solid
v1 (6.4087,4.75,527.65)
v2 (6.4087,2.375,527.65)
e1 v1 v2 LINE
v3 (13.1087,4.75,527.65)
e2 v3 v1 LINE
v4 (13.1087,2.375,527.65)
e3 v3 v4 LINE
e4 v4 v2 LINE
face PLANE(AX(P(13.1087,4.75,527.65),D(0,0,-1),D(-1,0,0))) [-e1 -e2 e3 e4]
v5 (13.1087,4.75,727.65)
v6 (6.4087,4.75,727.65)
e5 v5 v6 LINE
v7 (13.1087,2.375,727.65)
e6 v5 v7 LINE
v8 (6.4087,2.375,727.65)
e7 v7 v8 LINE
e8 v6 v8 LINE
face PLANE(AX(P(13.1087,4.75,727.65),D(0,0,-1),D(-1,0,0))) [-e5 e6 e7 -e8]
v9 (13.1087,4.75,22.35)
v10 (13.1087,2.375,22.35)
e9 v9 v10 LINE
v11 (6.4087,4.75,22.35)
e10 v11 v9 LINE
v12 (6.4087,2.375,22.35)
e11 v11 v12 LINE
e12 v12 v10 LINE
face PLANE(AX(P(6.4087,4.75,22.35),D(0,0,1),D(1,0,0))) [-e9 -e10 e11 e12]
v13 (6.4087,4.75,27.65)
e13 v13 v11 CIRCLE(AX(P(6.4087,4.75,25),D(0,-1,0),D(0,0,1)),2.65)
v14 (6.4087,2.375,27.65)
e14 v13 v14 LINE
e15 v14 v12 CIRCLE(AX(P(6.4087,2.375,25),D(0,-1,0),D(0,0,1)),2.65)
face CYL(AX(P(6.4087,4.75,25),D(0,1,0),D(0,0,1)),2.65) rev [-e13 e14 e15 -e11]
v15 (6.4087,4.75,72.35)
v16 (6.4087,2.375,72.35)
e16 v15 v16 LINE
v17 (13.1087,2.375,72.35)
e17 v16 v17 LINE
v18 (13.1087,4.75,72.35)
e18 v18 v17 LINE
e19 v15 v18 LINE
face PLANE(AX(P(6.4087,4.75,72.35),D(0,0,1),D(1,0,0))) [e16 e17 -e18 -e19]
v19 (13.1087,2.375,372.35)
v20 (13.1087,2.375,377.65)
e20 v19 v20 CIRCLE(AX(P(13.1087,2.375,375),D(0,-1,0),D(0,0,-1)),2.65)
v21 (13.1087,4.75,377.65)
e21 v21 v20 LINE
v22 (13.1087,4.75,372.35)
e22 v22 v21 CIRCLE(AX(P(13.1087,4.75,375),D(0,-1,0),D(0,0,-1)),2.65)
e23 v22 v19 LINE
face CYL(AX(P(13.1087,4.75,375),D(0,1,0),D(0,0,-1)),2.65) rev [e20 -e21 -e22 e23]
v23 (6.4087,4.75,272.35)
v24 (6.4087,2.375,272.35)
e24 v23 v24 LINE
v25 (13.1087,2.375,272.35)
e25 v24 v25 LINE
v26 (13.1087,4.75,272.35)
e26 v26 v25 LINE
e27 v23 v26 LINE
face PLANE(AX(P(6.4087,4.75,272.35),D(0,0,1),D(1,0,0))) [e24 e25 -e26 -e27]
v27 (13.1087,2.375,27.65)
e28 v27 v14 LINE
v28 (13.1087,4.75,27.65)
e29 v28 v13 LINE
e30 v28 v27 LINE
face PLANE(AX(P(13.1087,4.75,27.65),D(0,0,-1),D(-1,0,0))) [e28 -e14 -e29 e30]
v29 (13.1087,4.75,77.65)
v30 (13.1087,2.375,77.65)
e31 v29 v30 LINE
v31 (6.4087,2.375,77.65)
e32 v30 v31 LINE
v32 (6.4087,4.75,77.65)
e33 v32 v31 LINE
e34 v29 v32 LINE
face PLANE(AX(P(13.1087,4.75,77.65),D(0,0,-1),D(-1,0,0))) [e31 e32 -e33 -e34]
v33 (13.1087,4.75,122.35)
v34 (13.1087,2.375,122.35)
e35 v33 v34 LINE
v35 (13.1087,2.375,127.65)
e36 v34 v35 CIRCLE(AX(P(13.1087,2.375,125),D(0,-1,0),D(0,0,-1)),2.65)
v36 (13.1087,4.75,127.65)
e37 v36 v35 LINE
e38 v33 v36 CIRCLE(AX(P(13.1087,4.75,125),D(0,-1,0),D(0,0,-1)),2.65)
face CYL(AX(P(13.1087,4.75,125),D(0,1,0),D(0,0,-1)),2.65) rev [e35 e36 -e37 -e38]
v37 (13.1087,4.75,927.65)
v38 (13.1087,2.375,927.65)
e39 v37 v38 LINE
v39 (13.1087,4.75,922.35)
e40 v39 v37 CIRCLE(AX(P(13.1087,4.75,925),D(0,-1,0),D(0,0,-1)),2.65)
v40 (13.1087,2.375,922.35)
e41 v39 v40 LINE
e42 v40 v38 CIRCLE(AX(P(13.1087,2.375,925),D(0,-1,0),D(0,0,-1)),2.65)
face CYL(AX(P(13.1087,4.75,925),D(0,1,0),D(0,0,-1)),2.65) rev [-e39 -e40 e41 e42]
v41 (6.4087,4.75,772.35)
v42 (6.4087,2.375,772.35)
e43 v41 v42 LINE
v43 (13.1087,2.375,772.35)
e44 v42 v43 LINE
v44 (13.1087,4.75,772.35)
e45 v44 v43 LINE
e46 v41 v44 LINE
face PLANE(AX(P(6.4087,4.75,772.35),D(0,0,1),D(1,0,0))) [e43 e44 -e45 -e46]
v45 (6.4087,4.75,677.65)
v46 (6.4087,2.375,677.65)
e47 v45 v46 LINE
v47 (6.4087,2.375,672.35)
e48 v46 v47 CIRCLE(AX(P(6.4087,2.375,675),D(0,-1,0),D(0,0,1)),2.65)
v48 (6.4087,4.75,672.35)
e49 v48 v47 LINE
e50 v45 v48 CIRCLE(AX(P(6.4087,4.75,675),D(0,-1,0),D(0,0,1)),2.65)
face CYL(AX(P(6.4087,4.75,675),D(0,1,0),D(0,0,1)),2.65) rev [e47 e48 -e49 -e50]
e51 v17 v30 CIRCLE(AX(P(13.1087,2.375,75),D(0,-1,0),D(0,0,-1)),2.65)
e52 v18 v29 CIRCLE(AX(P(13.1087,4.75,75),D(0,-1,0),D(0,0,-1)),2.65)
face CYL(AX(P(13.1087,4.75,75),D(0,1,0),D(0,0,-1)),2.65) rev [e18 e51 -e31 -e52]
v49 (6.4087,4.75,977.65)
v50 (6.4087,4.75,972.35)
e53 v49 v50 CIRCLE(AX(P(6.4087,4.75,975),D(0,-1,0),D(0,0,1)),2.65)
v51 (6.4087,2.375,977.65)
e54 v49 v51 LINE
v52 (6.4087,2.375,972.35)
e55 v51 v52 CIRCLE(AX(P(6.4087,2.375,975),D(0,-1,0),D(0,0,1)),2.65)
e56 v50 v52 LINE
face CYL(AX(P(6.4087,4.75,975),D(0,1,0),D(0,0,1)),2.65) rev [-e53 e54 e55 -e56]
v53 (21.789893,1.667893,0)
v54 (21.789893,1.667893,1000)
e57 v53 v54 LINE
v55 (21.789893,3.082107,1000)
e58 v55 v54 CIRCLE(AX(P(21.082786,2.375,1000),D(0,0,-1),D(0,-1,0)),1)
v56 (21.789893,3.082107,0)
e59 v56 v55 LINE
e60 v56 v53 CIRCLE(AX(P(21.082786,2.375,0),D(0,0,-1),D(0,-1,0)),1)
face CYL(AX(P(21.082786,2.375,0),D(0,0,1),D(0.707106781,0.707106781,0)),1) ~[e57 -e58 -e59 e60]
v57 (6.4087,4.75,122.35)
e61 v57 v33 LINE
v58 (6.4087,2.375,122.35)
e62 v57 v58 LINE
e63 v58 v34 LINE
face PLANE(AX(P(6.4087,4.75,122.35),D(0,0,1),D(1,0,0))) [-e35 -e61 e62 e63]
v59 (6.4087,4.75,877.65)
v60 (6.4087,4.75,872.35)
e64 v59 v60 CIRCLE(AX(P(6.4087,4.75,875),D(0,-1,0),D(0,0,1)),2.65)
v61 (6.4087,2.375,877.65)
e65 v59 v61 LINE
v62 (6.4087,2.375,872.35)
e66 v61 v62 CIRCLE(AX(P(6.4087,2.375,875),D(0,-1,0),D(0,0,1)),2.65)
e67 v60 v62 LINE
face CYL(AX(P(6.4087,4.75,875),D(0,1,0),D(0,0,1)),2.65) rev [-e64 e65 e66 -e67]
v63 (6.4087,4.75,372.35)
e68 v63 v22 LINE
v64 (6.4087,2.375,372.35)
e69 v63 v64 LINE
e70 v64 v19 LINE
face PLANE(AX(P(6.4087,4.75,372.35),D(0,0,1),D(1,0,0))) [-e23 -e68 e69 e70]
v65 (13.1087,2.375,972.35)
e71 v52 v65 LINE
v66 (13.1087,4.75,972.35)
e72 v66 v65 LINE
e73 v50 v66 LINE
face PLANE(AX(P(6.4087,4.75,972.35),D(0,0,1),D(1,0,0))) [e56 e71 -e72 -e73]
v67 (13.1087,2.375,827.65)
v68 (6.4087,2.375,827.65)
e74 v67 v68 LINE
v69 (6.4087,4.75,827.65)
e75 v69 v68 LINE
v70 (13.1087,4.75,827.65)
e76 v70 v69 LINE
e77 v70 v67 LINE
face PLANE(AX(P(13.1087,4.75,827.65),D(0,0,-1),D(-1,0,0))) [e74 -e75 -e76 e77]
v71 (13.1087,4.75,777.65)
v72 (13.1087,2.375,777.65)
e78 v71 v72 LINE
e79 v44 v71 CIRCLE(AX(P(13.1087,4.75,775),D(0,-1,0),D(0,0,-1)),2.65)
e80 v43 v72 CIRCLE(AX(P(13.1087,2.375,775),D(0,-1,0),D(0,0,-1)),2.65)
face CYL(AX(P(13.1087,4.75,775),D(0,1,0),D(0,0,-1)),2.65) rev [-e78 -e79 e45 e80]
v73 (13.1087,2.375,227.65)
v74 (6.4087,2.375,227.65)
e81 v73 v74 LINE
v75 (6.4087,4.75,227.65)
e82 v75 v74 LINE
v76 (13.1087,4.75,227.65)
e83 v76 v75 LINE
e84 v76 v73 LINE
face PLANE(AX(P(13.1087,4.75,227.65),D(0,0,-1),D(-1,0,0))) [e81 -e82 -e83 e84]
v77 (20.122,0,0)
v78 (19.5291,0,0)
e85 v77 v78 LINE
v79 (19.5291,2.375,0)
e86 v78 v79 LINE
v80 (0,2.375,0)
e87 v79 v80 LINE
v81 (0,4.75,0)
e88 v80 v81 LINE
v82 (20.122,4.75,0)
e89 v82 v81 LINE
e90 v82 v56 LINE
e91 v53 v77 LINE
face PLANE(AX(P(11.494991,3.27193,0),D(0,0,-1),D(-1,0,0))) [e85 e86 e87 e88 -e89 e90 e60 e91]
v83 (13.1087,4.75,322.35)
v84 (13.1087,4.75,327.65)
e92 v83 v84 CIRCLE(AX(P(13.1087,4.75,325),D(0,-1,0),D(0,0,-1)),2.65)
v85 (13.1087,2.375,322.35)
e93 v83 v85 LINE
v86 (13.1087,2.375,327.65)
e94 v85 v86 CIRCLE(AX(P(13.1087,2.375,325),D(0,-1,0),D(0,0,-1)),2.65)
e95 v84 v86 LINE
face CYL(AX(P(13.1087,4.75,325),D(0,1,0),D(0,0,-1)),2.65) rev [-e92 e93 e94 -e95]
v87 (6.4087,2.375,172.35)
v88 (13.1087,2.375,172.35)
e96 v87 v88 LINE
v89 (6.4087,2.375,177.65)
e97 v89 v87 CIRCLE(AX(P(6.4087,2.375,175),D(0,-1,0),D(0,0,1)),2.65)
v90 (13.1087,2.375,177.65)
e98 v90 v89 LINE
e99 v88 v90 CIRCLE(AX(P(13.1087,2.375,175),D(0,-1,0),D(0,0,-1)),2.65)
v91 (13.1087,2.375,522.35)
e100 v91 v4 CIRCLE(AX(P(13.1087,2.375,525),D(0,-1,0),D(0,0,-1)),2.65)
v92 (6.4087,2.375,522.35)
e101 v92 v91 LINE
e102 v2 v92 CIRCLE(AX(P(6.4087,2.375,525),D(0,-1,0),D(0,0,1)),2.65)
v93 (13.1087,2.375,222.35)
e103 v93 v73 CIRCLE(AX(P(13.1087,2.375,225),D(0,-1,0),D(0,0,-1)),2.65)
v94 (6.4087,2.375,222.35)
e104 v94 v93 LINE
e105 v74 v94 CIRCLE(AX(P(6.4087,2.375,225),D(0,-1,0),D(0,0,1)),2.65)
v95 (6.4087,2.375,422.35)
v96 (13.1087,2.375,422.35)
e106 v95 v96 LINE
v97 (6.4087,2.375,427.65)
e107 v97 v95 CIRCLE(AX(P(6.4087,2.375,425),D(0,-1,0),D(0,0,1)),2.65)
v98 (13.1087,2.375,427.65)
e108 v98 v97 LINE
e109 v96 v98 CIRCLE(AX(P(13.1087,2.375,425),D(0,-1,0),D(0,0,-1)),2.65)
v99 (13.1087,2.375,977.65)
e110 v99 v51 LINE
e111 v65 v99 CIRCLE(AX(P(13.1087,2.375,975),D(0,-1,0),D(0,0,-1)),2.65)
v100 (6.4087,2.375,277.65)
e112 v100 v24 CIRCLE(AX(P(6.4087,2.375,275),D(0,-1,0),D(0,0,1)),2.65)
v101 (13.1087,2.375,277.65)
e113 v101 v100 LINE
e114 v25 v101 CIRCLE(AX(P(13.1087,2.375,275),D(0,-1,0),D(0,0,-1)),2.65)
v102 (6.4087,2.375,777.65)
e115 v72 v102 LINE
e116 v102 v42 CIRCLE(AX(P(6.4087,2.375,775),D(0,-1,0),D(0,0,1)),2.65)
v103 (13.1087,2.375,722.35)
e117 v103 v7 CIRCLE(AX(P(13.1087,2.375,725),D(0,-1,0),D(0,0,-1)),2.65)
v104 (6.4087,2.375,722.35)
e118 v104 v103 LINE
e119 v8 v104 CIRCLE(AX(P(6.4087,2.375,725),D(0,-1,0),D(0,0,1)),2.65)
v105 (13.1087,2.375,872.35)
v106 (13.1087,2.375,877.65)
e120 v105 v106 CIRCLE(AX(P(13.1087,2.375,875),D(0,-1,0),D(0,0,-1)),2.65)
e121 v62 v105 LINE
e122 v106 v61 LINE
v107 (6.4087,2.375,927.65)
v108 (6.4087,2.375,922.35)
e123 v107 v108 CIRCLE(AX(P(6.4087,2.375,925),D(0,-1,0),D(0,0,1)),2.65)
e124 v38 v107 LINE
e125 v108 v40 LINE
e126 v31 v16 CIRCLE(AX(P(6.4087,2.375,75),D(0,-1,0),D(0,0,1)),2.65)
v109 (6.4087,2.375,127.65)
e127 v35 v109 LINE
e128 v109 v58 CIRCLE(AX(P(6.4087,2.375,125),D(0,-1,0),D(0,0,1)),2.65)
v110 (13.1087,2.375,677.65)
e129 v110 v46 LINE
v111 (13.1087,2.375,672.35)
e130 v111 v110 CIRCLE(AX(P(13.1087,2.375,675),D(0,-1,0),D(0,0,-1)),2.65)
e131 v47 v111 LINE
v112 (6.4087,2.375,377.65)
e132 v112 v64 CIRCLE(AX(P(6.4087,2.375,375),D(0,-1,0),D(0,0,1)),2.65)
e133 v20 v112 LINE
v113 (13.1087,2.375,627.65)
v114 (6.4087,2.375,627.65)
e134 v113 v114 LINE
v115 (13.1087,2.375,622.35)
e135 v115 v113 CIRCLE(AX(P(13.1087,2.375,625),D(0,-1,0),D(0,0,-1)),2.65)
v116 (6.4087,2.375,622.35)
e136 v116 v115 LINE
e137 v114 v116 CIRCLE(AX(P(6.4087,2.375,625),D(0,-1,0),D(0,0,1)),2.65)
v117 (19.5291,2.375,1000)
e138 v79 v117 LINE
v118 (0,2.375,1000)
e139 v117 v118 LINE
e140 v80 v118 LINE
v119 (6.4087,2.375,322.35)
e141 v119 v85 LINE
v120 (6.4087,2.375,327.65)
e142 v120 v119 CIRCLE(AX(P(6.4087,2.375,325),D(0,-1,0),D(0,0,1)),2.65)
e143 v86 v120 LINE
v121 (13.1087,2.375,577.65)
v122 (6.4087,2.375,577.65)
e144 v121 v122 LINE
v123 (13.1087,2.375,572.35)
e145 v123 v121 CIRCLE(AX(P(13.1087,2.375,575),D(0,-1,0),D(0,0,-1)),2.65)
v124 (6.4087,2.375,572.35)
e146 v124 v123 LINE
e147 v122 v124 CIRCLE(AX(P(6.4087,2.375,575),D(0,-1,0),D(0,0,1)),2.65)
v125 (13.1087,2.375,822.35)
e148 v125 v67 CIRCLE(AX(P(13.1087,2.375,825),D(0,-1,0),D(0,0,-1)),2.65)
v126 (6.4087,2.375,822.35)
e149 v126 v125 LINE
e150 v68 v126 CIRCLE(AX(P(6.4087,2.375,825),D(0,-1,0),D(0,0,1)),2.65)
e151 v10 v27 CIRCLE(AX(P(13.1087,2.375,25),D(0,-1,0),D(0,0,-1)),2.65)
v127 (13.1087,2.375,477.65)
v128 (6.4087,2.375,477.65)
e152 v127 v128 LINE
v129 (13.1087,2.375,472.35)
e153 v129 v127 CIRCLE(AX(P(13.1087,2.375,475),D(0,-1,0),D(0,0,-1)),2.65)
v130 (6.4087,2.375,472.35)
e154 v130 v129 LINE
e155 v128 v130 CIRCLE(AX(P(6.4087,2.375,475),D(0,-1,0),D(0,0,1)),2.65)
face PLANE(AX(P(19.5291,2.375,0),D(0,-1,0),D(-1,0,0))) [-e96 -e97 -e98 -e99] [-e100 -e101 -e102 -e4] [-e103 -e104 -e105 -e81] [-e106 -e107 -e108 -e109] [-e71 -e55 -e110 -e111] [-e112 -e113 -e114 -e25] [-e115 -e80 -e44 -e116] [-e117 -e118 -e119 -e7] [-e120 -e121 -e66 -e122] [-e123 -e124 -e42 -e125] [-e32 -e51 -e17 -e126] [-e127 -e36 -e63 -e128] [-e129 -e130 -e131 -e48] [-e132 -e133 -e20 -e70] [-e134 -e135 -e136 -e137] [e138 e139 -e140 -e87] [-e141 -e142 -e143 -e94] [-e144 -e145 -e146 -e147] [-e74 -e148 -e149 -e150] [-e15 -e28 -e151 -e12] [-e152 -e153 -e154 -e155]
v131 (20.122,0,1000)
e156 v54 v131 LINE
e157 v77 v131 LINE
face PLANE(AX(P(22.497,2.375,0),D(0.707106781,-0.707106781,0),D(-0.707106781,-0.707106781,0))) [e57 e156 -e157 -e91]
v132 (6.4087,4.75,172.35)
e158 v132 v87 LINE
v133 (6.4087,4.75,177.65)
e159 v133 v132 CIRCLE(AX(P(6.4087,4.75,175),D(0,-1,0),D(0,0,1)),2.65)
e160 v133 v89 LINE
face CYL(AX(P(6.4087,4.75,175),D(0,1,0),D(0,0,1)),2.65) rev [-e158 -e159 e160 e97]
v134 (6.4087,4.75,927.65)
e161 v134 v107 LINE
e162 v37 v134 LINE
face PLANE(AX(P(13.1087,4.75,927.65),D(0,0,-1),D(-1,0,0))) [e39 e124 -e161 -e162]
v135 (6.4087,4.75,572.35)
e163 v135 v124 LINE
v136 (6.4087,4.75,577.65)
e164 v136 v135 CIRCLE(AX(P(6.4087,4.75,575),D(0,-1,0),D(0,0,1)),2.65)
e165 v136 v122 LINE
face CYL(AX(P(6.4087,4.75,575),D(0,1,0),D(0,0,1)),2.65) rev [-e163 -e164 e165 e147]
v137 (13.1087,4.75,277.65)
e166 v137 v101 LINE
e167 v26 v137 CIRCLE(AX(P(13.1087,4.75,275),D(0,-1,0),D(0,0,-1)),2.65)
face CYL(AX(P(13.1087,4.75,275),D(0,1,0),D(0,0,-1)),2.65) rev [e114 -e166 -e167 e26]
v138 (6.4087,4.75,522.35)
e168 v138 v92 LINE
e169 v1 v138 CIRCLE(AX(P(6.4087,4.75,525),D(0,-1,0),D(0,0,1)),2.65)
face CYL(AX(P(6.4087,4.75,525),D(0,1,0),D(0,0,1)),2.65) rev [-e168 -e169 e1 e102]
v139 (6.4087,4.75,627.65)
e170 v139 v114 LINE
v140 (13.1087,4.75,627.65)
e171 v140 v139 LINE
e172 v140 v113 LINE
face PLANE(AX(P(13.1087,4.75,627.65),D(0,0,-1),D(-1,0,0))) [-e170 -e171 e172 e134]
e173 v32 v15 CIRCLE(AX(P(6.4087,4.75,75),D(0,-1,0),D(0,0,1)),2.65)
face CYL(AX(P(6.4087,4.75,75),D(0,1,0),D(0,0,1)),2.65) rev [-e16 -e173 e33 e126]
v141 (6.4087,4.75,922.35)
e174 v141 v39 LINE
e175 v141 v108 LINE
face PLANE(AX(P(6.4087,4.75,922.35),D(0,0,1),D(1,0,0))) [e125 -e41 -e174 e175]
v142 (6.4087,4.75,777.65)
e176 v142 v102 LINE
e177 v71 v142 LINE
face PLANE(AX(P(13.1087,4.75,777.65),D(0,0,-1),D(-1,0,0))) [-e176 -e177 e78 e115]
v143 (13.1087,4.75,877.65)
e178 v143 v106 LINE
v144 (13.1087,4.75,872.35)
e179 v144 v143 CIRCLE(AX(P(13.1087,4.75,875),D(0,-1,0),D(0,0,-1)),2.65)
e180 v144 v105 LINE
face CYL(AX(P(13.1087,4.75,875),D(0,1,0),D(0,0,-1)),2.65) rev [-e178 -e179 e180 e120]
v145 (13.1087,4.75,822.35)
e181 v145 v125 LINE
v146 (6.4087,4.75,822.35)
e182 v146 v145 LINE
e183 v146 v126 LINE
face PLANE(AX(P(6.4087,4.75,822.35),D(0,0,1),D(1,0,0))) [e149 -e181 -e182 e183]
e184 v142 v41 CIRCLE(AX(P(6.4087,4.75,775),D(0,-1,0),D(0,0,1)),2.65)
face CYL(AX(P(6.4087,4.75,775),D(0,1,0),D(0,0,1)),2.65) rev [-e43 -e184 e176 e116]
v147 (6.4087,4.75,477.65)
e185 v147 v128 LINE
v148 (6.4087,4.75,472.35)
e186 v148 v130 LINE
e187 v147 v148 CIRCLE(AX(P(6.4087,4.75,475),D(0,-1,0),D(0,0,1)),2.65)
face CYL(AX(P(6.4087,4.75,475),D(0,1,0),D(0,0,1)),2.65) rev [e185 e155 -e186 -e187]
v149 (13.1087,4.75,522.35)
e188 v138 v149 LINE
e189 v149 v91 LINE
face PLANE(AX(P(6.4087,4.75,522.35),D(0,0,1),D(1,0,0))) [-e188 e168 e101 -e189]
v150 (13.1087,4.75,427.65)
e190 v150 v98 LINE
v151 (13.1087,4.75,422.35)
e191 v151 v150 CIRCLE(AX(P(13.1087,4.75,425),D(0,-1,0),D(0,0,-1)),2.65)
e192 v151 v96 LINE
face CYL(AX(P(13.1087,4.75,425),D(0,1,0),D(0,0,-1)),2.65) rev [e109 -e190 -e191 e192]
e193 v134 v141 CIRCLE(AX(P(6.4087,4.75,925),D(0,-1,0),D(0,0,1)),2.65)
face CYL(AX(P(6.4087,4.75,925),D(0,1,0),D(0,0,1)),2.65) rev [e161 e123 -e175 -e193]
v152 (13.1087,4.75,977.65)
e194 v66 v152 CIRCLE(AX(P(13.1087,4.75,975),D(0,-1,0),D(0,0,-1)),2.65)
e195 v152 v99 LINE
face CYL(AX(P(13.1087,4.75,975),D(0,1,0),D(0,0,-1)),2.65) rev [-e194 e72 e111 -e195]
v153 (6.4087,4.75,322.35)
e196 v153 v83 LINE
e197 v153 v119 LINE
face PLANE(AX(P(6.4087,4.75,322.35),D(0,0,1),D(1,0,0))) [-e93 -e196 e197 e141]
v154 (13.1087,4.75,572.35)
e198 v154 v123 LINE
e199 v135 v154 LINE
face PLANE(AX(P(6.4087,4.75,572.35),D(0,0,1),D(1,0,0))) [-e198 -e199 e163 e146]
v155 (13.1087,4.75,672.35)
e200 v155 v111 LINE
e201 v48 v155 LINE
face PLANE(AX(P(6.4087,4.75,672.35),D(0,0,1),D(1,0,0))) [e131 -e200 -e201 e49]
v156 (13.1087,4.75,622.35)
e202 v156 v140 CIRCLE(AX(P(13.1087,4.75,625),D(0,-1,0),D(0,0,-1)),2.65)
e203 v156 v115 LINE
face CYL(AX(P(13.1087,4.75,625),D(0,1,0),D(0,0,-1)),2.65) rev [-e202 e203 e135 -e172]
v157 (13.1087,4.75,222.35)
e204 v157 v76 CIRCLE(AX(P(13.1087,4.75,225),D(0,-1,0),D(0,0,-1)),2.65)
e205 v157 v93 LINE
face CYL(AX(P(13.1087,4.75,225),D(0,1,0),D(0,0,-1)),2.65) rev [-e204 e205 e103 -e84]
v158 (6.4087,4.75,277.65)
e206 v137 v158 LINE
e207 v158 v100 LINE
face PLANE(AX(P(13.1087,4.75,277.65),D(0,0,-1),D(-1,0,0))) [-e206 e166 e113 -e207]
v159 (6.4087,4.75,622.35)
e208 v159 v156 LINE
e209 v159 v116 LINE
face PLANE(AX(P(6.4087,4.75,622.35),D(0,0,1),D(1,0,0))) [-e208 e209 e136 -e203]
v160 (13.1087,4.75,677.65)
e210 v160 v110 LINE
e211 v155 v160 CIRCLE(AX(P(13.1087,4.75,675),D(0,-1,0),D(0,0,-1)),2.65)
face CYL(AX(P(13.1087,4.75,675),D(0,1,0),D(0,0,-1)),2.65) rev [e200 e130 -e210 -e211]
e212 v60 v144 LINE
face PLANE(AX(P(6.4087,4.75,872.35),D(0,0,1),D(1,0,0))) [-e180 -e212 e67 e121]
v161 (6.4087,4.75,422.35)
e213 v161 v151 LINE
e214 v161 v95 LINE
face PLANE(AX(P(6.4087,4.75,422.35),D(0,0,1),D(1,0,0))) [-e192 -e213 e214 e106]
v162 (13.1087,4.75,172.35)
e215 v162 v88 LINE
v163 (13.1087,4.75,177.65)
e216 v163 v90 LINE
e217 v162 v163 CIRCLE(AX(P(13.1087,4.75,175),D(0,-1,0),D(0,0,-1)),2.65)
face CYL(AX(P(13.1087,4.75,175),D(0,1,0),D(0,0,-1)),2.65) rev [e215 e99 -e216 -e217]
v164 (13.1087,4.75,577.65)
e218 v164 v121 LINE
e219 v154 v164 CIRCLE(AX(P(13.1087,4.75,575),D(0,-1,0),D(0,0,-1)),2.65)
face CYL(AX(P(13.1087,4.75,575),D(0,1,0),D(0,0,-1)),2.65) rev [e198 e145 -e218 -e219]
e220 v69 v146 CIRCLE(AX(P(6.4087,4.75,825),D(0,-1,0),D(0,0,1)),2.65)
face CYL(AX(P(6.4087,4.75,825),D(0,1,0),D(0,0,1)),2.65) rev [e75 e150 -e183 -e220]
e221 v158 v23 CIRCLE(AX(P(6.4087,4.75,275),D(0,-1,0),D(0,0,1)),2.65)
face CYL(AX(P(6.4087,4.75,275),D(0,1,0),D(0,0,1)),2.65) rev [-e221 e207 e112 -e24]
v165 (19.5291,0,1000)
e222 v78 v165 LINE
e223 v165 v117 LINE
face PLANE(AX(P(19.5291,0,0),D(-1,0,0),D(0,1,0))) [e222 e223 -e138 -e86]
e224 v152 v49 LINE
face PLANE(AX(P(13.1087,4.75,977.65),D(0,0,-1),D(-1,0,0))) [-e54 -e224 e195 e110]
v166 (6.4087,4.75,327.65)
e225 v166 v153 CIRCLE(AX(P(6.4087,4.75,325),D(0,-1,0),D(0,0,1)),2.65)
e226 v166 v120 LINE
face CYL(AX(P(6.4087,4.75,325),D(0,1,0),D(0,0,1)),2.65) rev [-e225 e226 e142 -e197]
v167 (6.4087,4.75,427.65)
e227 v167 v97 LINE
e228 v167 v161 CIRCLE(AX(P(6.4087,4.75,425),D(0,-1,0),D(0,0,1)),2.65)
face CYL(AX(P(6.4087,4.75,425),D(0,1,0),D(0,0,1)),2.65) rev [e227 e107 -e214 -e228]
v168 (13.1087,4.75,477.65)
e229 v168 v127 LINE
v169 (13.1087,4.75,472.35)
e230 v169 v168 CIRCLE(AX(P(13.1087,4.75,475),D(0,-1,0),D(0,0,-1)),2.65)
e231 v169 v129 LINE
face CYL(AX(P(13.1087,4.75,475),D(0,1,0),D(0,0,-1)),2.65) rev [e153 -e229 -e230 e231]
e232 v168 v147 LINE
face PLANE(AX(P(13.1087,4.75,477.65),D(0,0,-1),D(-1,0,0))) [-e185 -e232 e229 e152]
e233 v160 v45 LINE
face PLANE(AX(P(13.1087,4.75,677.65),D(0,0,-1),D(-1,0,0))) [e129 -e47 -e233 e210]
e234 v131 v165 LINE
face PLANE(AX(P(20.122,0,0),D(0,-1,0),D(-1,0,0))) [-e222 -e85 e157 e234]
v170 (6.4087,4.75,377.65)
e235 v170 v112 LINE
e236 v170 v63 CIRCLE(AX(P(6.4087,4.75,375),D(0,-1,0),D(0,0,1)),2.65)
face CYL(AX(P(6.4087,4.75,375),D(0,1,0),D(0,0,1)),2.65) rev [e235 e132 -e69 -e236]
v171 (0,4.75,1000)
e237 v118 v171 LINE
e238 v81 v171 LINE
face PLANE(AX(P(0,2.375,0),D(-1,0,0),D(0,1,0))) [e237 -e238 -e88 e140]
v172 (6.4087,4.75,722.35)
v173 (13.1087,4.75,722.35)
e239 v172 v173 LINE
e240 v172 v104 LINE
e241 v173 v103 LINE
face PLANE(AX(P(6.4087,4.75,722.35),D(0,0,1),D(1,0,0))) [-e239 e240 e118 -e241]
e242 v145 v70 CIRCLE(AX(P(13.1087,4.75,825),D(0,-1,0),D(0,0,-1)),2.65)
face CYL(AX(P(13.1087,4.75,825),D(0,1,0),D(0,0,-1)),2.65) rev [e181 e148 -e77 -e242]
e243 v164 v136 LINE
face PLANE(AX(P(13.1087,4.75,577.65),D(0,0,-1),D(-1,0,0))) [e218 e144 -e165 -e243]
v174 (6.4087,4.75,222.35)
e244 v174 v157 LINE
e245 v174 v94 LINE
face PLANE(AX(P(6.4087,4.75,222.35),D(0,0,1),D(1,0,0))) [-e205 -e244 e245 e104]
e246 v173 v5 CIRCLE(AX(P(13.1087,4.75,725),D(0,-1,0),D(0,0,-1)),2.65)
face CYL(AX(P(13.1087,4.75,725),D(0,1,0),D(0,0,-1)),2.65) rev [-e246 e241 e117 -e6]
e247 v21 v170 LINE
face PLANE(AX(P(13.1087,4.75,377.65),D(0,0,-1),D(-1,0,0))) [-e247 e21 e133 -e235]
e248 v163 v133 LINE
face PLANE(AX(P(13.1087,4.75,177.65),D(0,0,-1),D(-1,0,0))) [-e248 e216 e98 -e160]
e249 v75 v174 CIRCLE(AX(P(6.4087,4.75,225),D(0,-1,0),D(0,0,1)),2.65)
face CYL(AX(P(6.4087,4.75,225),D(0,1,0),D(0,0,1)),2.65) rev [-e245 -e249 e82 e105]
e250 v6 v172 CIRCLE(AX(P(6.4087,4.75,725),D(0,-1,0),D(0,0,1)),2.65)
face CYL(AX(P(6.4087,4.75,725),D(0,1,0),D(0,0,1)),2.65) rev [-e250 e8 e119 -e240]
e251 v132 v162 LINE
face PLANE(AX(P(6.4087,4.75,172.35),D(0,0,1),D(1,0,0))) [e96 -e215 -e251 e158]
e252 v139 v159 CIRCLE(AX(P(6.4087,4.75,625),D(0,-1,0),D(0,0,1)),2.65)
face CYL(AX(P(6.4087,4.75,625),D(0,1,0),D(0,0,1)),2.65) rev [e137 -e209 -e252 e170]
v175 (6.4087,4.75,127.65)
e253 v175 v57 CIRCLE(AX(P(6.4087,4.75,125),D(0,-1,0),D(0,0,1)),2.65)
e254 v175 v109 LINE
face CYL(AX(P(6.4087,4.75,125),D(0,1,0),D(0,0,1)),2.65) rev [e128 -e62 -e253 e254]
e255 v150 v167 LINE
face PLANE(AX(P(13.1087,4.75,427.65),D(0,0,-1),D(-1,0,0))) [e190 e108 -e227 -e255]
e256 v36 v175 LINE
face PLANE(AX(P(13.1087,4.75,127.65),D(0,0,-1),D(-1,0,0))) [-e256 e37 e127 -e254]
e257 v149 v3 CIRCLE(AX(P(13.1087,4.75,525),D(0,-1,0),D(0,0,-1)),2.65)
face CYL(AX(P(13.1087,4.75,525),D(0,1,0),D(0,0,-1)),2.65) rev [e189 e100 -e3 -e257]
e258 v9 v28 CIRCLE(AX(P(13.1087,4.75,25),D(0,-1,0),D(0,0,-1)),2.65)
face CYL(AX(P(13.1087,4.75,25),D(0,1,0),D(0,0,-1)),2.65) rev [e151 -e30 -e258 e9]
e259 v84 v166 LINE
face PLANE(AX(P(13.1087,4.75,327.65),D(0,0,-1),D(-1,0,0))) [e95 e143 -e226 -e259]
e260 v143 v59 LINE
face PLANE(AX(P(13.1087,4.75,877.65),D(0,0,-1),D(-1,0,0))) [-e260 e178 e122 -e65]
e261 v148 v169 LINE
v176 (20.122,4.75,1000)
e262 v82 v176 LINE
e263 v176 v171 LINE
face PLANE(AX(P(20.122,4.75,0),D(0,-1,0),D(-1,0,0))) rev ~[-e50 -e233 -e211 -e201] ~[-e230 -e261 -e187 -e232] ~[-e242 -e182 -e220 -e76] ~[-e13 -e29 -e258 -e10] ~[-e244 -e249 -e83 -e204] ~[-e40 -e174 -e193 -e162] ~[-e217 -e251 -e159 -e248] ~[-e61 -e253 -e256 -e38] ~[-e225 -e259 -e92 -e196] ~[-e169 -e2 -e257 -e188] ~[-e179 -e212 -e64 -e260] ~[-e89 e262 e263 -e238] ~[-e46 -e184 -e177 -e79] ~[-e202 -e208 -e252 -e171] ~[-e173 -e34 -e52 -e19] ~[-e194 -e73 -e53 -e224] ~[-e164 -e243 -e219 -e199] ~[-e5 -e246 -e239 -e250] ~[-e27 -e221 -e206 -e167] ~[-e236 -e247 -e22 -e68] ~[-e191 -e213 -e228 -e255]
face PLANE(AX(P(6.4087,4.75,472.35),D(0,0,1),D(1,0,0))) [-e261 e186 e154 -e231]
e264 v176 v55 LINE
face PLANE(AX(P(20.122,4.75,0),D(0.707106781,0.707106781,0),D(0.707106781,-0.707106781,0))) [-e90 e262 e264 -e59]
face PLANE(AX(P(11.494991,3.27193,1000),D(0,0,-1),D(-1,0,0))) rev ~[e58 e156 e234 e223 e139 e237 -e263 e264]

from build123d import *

# Parameters (mm, degrees)
BOSS_EXTRUDE1_DEPTH = 1000
CUT_EXTRUDE1_DEPTH  = 2.375
LPATTERN2_COUNT     = 30
LPATTERN2_PITCH     = 50
FILLET1_R           = 1


with BuildPart() as part:
    # Sketch1 → Boss-Extrude1 (new body)
    with BuildSketch(Plane.XY):
        Polygon((19.5291, 2.375), (0, 2.375), (0, 4.75), (19.5291, 4.75), (20.122, 4.75), (22.497, 2.375), (20.122, 0), (19.5291, 0), align=None)
    extrude(amount=BOSS_EXTRUDE1_DEPTH)

    # Sketch2 → Cut-Extrude1 (cut)
    with BuildSketch(Plane(origin=(0, 4.75, 0), x_dir=(1, 0, 0), z_dir=(0, 1, 0))):
        with BuildLine():
            Line((6.4087, -22.35), (13.1087, -22.35))
            ThreePointArc((13.1087, -22.35), (15.7587, -25), (13.1087, -27.65))
            Line((13.1087, -27.65), (6.4087, -27.65))
            ThreePointArc((6.4087, -27.65), (3.7587, -25), (6.4087, -22.35))
        make_face()
    cut_extrude1 = extrude(amount=-CUT_EXTRUDE1_DEPTH, mode=Mode.SUBTRACT)

    # LPattern2: Cut-Extrude1 ×30
    with Locations(*[(0, 0, i * LPATTERN2_PITCH) for i in range(1, LPATTERN2_COUNT)]):
        add(cut_extrude1, mode=Mode.SUBTRACT)

    # Fillet1
    fillet1_edges = [part.edges().sort_by_distance(p)[0] for p in [
        (22.497, 2.375, 500),
    ]]
    fillet(fillet1_edges, radius=FILLET1_R)


solid = part.part
